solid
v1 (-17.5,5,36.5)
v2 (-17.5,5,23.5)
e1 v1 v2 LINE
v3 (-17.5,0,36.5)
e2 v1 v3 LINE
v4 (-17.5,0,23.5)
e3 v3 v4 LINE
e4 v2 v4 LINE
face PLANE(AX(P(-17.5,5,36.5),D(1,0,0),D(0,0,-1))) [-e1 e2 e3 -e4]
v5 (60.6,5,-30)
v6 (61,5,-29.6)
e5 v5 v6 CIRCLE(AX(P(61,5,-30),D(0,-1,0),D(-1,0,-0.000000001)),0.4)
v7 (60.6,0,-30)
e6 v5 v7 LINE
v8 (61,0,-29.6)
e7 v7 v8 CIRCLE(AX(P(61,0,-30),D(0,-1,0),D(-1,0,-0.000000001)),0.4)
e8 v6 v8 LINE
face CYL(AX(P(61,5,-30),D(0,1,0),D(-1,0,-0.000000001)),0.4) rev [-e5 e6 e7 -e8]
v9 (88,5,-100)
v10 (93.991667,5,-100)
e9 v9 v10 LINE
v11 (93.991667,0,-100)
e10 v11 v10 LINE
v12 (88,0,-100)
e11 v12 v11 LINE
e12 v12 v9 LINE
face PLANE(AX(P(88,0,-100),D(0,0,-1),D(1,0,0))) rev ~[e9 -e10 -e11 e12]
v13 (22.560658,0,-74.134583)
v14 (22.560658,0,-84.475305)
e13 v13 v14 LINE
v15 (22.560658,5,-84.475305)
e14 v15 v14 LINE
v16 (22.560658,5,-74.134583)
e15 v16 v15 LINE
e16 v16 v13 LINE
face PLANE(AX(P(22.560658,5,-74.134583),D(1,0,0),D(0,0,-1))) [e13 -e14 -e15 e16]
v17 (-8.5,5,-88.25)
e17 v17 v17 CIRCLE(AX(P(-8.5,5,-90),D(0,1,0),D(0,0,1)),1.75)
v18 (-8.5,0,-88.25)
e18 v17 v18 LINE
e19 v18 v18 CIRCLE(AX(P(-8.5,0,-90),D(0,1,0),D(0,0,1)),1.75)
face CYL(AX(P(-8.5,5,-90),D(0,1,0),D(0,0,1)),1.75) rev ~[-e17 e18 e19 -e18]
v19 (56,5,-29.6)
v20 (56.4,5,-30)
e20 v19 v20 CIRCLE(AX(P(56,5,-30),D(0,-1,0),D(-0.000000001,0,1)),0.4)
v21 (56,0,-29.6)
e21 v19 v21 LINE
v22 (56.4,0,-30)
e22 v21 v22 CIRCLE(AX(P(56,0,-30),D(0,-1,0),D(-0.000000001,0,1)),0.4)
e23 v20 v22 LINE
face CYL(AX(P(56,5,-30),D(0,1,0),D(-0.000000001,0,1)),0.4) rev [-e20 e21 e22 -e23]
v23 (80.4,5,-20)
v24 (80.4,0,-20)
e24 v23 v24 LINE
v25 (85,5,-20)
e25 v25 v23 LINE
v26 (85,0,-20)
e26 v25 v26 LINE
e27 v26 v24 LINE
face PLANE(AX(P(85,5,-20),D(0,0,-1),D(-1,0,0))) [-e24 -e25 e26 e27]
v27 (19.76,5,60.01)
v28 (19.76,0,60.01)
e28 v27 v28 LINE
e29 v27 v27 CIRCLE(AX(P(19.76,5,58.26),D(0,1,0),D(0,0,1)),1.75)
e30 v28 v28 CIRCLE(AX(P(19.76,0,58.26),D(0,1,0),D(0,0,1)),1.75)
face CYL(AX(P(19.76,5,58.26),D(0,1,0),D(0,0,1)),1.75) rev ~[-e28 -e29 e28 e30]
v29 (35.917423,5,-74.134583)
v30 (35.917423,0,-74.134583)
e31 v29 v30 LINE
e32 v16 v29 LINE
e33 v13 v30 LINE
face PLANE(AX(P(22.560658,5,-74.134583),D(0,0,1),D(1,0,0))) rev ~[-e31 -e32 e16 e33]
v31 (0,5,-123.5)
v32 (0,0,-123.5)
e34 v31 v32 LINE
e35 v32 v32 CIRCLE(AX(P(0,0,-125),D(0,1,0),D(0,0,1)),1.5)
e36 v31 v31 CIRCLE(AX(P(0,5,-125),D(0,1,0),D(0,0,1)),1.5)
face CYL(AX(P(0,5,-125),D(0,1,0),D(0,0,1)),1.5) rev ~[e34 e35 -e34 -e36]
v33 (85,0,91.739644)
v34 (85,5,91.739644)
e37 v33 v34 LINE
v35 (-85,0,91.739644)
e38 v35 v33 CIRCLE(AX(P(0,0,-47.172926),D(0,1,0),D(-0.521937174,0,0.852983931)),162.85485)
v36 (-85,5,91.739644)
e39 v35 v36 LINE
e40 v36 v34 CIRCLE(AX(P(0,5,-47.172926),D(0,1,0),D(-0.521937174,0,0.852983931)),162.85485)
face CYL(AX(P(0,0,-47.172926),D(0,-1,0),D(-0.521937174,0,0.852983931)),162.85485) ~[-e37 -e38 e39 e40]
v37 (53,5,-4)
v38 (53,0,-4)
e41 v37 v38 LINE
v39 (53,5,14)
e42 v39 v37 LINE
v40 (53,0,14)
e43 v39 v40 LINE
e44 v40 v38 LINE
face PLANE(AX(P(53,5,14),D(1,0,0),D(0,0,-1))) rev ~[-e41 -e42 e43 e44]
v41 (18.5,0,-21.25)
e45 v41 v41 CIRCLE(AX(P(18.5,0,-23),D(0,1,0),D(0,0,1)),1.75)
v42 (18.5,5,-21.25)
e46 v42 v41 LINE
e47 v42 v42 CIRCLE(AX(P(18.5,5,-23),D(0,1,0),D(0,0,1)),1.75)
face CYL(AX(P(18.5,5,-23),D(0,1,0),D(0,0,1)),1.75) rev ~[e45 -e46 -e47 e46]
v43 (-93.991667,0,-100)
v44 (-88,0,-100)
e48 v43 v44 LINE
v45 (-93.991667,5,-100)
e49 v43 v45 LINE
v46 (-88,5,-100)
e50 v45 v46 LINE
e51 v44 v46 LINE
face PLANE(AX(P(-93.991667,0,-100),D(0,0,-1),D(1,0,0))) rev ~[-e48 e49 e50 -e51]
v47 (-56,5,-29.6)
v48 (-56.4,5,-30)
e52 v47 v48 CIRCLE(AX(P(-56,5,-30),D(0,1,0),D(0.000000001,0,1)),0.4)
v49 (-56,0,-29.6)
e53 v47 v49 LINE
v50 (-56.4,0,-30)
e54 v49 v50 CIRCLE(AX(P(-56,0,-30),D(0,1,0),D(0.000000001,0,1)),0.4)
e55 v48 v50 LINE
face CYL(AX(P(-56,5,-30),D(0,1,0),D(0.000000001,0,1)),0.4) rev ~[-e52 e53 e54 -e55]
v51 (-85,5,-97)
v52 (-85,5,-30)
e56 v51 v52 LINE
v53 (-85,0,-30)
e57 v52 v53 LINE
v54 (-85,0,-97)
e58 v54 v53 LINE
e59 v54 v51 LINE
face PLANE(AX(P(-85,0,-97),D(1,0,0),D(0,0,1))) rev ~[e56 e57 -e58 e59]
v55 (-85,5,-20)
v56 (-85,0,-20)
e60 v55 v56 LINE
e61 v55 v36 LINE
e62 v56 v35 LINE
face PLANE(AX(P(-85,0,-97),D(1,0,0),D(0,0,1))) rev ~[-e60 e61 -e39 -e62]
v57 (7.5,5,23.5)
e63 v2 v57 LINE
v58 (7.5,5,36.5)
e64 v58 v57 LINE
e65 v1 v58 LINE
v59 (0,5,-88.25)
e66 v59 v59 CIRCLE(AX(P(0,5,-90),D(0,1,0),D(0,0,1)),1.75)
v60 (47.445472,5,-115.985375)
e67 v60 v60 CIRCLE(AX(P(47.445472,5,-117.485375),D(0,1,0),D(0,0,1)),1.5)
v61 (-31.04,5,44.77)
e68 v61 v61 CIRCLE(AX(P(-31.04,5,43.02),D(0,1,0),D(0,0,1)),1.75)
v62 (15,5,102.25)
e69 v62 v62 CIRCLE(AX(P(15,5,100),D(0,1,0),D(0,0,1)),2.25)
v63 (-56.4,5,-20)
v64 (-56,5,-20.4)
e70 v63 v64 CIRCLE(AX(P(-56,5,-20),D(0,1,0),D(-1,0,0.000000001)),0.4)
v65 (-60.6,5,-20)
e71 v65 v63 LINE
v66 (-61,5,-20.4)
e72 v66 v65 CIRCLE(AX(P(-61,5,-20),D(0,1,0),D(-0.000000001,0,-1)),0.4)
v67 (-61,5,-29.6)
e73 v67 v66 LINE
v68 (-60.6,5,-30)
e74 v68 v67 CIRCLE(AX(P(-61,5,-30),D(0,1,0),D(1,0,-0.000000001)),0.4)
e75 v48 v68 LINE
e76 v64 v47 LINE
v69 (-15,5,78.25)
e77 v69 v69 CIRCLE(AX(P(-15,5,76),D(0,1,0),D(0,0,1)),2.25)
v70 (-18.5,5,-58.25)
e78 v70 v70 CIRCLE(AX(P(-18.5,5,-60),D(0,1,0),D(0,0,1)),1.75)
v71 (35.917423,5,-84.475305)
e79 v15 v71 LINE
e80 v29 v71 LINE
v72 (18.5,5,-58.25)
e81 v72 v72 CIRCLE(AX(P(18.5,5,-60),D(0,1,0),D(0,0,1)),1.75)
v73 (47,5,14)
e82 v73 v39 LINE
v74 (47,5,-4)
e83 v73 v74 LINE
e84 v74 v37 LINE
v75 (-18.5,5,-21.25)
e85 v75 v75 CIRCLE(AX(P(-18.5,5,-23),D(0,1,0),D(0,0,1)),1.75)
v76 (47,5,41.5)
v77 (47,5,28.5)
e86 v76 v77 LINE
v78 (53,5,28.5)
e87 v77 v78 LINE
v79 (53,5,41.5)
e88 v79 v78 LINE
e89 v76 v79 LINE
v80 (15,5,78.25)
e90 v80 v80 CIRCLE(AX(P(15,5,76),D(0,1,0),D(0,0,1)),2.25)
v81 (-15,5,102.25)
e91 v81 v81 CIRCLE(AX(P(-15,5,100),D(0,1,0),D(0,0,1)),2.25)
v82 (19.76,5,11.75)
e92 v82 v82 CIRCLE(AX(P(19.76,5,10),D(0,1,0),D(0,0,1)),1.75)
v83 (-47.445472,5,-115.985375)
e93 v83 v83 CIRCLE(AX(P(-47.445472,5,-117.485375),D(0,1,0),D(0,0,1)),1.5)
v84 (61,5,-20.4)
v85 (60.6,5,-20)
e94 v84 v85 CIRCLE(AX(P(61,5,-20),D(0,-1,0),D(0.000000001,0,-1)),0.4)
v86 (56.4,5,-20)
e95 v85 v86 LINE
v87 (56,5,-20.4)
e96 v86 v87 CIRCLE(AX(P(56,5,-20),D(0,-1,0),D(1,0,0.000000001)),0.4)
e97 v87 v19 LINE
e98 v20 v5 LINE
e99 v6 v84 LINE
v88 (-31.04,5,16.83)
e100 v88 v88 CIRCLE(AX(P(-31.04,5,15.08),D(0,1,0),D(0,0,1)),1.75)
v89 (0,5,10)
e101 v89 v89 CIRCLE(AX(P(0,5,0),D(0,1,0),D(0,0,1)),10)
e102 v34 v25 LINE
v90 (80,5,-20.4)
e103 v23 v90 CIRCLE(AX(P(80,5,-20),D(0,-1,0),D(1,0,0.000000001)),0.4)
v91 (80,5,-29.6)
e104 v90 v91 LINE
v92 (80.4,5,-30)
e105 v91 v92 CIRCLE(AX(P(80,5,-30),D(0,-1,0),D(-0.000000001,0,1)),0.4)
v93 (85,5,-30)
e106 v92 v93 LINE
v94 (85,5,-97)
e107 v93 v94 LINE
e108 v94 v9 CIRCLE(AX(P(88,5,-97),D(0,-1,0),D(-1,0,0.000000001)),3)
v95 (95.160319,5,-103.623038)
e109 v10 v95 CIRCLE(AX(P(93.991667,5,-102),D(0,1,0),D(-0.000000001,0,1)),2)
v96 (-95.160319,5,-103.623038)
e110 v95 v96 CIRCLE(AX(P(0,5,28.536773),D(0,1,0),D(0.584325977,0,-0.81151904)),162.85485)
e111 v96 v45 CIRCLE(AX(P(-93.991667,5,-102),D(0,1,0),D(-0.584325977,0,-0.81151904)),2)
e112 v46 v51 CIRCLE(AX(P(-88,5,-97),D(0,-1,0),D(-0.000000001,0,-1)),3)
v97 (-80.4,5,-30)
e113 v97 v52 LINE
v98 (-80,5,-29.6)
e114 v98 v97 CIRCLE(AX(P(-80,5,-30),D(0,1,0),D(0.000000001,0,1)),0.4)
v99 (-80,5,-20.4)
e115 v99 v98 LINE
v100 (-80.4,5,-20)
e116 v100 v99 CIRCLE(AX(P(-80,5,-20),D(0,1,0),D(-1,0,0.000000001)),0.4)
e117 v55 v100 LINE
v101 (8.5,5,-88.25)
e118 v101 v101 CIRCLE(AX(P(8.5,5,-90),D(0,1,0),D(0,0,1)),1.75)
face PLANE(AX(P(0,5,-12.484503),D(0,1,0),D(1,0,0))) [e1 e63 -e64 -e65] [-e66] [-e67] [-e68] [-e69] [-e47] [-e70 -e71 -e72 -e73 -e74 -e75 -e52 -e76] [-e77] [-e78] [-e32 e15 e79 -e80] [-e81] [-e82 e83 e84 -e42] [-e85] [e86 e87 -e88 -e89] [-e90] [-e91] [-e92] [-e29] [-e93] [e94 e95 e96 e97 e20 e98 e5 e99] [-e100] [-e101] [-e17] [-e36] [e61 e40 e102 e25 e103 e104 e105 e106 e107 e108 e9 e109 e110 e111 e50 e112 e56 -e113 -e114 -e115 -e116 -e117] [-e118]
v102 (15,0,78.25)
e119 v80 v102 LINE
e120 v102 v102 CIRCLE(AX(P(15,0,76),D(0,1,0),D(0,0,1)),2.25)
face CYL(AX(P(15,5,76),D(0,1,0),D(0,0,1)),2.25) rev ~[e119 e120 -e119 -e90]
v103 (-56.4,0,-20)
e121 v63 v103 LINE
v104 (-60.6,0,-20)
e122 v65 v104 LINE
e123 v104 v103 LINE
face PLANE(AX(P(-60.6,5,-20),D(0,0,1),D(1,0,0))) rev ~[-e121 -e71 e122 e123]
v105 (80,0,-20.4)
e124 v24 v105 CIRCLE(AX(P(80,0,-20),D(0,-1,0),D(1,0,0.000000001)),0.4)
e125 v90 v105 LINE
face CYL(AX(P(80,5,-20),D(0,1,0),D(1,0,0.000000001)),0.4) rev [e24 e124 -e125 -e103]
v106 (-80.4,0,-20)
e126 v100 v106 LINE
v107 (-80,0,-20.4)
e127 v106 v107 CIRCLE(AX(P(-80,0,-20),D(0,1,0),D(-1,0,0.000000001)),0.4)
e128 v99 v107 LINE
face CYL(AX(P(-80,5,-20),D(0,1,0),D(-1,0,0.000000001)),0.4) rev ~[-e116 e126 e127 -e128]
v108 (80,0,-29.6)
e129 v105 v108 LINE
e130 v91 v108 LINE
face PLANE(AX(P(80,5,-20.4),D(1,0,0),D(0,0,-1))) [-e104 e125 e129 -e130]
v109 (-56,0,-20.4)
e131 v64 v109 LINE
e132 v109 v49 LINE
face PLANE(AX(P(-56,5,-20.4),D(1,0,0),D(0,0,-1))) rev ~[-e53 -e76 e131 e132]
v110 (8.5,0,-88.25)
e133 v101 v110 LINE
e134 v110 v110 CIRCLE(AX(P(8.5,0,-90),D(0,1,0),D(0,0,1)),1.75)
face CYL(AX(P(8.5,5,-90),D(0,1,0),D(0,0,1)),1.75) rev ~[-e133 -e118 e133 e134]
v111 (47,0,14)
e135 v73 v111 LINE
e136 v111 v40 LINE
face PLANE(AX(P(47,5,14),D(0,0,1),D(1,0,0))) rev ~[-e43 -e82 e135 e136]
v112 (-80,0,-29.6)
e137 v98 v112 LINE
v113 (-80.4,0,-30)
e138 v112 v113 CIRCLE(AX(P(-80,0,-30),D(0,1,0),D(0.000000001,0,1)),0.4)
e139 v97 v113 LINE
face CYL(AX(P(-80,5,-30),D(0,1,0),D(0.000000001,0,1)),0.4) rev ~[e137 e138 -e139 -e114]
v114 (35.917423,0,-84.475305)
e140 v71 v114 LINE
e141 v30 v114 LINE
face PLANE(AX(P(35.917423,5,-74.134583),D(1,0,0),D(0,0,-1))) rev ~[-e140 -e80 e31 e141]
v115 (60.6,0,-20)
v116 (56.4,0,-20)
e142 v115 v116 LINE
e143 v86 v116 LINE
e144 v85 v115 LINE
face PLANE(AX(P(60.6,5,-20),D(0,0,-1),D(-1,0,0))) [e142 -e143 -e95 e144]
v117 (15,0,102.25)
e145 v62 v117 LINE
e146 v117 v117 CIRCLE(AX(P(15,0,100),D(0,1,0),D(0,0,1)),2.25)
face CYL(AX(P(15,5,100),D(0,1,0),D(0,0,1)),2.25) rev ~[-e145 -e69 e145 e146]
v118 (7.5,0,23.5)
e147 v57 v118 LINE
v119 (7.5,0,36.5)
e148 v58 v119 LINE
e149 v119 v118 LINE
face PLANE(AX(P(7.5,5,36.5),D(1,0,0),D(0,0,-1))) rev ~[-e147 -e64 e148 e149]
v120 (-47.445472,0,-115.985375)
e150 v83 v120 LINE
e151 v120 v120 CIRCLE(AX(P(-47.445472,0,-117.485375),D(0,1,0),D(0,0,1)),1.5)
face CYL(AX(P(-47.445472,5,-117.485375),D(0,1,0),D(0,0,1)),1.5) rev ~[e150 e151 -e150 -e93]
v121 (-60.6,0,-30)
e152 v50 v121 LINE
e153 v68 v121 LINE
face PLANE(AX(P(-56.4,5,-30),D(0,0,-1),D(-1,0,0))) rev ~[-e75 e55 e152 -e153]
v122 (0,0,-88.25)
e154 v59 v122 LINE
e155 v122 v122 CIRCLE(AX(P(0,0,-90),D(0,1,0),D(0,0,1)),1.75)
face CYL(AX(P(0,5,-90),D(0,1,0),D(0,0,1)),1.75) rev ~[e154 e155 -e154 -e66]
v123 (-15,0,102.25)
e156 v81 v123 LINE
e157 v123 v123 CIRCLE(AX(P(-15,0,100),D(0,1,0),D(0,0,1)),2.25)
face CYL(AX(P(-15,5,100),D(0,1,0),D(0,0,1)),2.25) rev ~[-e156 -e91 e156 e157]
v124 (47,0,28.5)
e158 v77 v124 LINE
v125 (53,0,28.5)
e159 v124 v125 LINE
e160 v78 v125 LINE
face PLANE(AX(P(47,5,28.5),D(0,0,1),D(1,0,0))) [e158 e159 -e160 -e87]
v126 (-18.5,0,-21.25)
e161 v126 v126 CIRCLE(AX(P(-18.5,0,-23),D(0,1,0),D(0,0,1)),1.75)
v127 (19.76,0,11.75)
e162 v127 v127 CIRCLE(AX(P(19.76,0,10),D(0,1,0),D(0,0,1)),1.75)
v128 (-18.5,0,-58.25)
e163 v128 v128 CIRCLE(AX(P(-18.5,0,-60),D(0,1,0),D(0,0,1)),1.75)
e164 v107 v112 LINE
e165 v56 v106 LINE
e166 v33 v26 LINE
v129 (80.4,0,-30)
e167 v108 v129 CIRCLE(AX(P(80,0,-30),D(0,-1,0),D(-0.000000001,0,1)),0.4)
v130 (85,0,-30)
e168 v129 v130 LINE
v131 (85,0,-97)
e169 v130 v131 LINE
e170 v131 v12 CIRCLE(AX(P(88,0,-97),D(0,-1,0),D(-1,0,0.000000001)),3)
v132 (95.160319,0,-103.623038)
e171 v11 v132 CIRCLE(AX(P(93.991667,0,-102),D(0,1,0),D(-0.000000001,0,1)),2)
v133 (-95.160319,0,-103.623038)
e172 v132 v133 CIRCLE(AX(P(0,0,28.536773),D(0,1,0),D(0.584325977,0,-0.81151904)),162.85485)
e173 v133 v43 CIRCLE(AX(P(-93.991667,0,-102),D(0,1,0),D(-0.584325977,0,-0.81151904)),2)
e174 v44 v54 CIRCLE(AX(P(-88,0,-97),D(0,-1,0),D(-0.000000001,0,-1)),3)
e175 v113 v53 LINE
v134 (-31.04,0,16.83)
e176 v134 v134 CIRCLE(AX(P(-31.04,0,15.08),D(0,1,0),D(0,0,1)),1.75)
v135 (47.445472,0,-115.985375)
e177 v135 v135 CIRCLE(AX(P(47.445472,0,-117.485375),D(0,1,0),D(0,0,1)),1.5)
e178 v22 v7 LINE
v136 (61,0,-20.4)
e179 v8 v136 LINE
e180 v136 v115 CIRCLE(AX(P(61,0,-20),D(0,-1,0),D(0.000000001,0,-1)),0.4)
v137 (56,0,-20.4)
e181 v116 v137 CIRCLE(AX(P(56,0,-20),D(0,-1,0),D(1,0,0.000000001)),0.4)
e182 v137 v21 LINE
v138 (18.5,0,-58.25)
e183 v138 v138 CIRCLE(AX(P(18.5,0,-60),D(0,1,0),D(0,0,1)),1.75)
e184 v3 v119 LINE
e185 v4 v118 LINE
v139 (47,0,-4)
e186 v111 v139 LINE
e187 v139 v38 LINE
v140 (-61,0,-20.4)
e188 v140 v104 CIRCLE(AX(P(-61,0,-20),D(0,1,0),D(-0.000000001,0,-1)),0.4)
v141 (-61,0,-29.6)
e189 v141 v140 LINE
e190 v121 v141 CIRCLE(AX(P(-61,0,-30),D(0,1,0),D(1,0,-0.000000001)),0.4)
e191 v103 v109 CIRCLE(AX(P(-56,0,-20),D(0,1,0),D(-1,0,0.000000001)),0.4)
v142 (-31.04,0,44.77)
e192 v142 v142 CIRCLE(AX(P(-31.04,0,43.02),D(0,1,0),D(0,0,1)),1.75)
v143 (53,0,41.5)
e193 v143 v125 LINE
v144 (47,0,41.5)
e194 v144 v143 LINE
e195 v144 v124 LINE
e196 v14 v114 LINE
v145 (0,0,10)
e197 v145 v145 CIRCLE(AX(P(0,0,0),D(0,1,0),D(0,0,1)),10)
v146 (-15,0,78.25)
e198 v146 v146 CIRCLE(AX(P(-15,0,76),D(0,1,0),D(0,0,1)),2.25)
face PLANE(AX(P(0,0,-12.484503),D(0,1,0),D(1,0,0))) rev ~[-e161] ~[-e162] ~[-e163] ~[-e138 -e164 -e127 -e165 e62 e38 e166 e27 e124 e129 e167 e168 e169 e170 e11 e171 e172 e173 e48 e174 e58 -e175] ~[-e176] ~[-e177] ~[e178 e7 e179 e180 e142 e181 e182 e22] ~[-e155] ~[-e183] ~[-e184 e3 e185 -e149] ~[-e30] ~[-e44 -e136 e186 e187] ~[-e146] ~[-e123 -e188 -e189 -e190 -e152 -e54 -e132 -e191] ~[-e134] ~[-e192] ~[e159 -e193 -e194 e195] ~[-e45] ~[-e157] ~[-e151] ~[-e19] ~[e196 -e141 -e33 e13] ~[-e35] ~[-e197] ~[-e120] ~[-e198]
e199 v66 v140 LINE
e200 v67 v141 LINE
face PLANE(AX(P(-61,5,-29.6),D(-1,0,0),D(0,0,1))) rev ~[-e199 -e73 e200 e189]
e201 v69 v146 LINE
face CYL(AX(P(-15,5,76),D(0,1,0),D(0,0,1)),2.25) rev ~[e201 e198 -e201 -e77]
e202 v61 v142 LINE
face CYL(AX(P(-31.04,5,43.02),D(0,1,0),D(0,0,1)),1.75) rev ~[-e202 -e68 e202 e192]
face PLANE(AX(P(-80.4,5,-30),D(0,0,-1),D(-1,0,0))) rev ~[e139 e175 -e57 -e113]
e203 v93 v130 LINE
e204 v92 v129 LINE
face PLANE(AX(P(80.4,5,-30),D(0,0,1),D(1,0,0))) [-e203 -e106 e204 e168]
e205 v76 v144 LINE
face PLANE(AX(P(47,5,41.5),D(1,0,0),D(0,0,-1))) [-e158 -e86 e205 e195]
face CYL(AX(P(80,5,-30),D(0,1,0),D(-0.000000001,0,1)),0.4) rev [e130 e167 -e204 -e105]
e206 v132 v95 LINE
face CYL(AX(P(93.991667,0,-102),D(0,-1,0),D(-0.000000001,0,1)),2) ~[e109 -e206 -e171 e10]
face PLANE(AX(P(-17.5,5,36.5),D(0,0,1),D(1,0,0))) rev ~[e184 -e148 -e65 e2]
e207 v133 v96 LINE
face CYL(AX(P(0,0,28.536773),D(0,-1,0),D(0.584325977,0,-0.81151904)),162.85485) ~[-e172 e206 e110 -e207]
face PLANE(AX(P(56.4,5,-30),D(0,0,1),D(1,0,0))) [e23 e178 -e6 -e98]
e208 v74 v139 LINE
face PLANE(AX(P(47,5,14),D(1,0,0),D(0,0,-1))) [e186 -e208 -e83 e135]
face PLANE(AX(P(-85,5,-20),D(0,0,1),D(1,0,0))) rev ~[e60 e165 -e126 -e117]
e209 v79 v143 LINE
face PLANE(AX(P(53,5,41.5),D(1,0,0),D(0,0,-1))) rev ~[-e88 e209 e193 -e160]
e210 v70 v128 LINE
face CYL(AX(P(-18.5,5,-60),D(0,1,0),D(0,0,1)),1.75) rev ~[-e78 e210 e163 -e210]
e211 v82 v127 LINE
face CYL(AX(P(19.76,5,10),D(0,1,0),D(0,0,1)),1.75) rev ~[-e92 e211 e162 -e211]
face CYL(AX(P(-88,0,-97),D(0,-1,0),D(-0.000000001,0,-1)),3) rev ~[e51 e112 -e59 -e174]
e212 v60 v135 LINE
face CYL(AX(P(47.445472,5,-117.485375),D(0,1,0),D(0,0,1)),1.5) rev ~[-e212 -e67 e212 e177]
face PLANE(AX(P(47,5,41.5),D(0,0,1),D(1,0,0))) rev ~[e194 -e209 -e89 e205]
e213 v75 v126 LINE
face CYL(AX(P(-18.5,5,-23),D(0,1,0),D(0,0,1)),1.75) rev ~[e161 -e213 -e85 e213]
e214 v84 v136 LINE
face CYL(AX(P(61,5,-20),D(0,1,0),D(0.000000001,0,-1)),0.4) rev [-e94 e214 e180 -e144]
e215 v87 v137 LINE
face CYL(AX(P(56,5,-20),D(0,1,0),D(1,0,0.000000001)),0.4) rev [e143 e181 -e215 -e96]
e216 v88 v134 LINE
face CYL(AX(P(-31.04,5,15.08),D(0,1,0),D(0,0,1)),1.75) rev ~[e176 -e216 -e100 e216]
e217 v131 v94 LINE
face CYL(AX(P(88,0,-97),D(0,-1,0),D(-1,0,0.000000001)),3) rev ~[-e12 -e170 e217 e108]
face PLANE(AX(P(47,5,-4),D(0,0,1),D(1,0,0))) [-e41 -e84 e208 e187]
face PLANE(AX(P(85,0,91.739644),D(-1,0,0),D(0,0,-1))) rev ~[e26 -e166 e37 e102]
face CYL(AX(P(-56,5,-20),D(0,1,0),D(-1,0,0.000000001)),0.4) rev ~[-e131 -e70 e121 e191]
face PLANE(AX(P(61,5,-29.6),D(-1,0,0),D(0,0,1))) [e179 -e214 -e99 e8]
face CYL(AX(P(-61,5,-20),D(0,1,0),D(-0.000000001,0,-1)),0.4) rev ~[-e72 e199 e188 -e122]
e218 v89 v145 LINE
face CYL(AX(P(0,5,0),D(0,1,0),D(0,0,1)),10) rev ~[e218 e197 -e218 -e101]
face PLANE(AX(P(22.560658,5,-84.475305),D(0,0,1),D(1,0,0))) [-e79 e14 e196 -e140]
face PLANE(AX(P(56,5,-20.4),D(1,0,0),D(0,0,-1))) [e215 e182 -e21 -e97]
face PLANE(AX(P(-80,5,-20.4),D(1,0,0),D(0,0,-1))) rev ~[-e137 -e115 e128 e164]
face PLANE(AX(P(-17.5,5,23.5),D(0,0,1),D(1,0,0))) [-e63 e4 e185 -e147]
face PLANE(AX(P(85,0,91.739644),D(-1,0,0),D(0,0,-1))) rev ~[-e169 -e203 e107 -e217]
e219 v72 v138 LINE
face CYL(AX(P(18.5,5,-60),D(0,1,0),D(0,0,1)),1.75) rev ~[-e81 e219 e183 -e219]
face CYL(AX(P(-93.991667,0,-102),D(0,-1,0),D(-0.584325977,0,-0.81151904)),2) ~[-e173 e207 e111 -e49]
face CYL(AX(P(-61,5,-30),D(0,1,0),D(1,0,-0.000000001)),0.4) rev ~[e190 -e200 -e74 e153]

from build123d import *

# Parameters (mm, degrees)
EXTRUDE_1_DEPTH     = 5
SKETCH_3_R          = 2.25
SKETCH_3_R_2        = 1.75
SKETCH_3_R_3        = 1.5
SKETCH_3_W          = 13.356765245
SKETCH_3_H          = 10.34072148
CUT_EXTRUDE_1_DEPTH = 5
SKETCH_4_R          = 10
SKETCH_4_W          = 6
SKETCH_4_H          = 18
SKETCH_4_H_2        = 13
SKETCH_4_W_2        = 25
CUT_EXTRUDE_2_DEPTH = 166.168840415


with BuildPart() as part:
    # 草图1 → 凸台-拉伸1 (new body)
    with BuildSketch(Plane(origin=(0, 0, 0), x_dir=(1, 0, 0), z_dir=(0, 1, 0))):
        with BuildLine():
            Line((-93.991667227, 100), (-88, 100))
            ThreePointArc((-88, 100), (-85.878679656, 99.121320344), (-85, 97))
            Line((-85, 97), (-85, -91.739643711))
            ThreePointArc((-85, -91.739643711), (0, -115.681923528), (85, -91.739643711))
            Line((85, -91.739643711), (85, 97))
            ThreePointArc((85, 97), (85.878679656, 99.121320344), (88, 100))
            Line((88, 100), (93.991667227, 100))
            ThreePointArc((93.991667227, 100), (95.895095209, 101.386027753), (95.160319181, 103.62303808))
            ThreePointArc((95.160319181, 103.62303808), (0, 134.318076472), (-95.160319181, 103.62303808))
            ThreePointArc((-95.160319181, 103.62303808), (-95.895095209, 101.386027753), (-93.991667227, 100))
        make_face()
    extrude(amount=EXTRUDE_1_DEPTH)

    # 草图3 → 切除-拉伸1 (cut)
    with BuildSketch(Plane(origin=(0, 5, 0), x_dir=(1, 0, 0), z_dir=(0, 1, 0))):
        with Locations(Location((15, -100, 0), (0, 0, 270))):
            Circle(SKETCH_3_R)
        with Locations(Location((-15, -100, 0), (0, 0, 270))):
            Circle(SKETCH_3_R)
        with Locations(Location((-15, -76, 0), (0, 0, 270))):
            Circle(SKETCH_3_R)
        with Locations(Location((15, -76, 0), (0, 0, 270))):
            Circle(SKETCH_3_R)
        with Locations(Location((-18.5, 60, 0), (0, 0, 270))):
            Circle(SKETCH_3_R_2)
        with Locations(Location((18.5, 60, 0), (0, 0, 270))):
            Circle(SKETCH_3_R_2)
        with Locations(Location((18.5, 23, 0), (0, 0, 270))):
            Circle(SKETCH_3_R_2)
        with Locations(Location((-18.5, 23, 0), (0, 0, 270))):
            Circle(SKETCH_3_R_2)
        with Locations(Location((-8.5, 90, 0), (0, 0, 270))):
            Circle(SKETCH_3_R_2)
        with Locations(Location((0, 90, 0), (0, 0, 270))):
            Circle(SKETCH_3_R_2)
        with Locations(Location((8.5, 90, 0), (0, 0, 270))):
            Circle(SKETCH_3_R_2)
        with Locations(Location((0, 125, 0), (0, 0, 270))):
            Circle(SKETCH_3_R_3)
        with Locations(Location((19.76, -10, 0), (0, 0, 270))):
            Circle(SKETCH_3_R_2)
        with Locations(Location((19.76, -58.26, 0), (0, 0, 270))):
            Circle(SKETCH_3_R_2)
        with Locations(Location((-31.04, -15.08, 0), (0, 0, 270))):
            Circle(SKETCH_3_R_2)
        with Locations(Location((-31.04, -43.02, 0), (0, 0, 270))):
            Circle(SKETCH_3_R_2)
        with Locations(Location((47.445472194, 117.485375441, 0), (0, 0, 270))):
            Circle(SKETCH_3_R_3)
        with Locations(Location((-47.445472194, 117.485375441, 0), (0, 0, 270))):
            Circle(SKETCH_3_R_3)
        with BuildLine():
            Line((-85, 20), (-80.4, 20))
            ThreePointArc((-80.4, 20), (-79.717157288, 19.717157288), (-80, 20.4))
            Line((-80, 20.4), (-80, 29.6))
            ThreePointArc((-80, 29.6), (-79.717157288, 30.282842712), (-80.4, 30))
            Line((-80.4, 30), (-85, 30))
            Line((-85, 30), (-85, 20))
        make_face()
        with BuildLine():
            Line((-61, 29.6), (-61, 20.4))
            ThreePointArc((-61, 20.4), (-61.282842712, 19.717157288), (-60.6, 20))
            Line((-60.6, 20), (-56.4, 20))
            ThreePointArc((-56.4, 20), (-55.717157288, 19.717157288), (-56, 20.4))
            Line((-56, 20.4), (-56, 29.6))
            ThreePointArc((-56, 29.6), (-55.717157288, 30.282842712), (-56.4, 30))
            Line((-56.4, 30), (-60.6, 30))
            ThreePointArc((-60.6, 30), (-61.282842712, 30.282842712), (-61, 29.6))
        make_face()
        with BuildLine():
            Line((61, 29.6), (61, 20.4))
            ThreePointArc((61, 20.4), (61.282842712, 19.717157288), (60.6, 20))
            Line((60.6, 20), (56.4, 20))
            ThreePointArc((56.4, 20), (55.717157288, 19.717157288), (56, 20.4))
            Line((56, 20.4), (56, 29.6))
            ThreePointArc((56, 29.6), (55.717157288, 30.282842712), (56.4, 30))
            Line((56.4, 30), (60.6, 30))
            ThreePointArc((60.6, 30), (61.282842712, 30.282842712), (61, 29.6))
        make_face()
        with BuildLine():
            Line((85, 30), (85, 20))
            Line((85, 20), (80.4, 20))
            ThreePointArc((80.4, 20), (79.717157288, 19.717157288), (80, 20.4))
            Line((80, 20.4), (80, 29.6))
            ThreePointArc((80, 29.6), (79.717157288, 30.282842712), (80.4, 30))
            Line((80.4, 30), (85, 30))
        make_face()
        with Locations((29.239040261, 79.304944158)):
            Rectangle(SKETCH_3_W, SKETCH_3_H)
    extrude(amount=-CUT_EXTRUDE_1_DEPTH, mode=Mode.SUBTRACT)

    # 草图4 → 切除-拉伸2 (cut, through all)
    with BuildSketch(Plane(origin=(0, 5, 0), x_dir=(1, 0, 0), z_dir=(0, 1, 0))):
        with Locations(Location((0, 0, 0), (0, 0, 270))):
            Circle(SKETCH_4_R)
        with Locations((50, -5)):
            Rectangle(SKETCH_4_W, SKETCH_4_H)
        with Locations((50, -35)):
            Rectangle(SKETCH_4_W, SKETCH_4_H_2)
        with Locations((-5, -30)):
            Rectangle(SKETCH_4_W_2, SKETCH_4_H_2)
    extrude(amount=-CUT_EXTRUDE_2_DEPTH, mode=Mode.SUBTRACT)


solid = part.part
